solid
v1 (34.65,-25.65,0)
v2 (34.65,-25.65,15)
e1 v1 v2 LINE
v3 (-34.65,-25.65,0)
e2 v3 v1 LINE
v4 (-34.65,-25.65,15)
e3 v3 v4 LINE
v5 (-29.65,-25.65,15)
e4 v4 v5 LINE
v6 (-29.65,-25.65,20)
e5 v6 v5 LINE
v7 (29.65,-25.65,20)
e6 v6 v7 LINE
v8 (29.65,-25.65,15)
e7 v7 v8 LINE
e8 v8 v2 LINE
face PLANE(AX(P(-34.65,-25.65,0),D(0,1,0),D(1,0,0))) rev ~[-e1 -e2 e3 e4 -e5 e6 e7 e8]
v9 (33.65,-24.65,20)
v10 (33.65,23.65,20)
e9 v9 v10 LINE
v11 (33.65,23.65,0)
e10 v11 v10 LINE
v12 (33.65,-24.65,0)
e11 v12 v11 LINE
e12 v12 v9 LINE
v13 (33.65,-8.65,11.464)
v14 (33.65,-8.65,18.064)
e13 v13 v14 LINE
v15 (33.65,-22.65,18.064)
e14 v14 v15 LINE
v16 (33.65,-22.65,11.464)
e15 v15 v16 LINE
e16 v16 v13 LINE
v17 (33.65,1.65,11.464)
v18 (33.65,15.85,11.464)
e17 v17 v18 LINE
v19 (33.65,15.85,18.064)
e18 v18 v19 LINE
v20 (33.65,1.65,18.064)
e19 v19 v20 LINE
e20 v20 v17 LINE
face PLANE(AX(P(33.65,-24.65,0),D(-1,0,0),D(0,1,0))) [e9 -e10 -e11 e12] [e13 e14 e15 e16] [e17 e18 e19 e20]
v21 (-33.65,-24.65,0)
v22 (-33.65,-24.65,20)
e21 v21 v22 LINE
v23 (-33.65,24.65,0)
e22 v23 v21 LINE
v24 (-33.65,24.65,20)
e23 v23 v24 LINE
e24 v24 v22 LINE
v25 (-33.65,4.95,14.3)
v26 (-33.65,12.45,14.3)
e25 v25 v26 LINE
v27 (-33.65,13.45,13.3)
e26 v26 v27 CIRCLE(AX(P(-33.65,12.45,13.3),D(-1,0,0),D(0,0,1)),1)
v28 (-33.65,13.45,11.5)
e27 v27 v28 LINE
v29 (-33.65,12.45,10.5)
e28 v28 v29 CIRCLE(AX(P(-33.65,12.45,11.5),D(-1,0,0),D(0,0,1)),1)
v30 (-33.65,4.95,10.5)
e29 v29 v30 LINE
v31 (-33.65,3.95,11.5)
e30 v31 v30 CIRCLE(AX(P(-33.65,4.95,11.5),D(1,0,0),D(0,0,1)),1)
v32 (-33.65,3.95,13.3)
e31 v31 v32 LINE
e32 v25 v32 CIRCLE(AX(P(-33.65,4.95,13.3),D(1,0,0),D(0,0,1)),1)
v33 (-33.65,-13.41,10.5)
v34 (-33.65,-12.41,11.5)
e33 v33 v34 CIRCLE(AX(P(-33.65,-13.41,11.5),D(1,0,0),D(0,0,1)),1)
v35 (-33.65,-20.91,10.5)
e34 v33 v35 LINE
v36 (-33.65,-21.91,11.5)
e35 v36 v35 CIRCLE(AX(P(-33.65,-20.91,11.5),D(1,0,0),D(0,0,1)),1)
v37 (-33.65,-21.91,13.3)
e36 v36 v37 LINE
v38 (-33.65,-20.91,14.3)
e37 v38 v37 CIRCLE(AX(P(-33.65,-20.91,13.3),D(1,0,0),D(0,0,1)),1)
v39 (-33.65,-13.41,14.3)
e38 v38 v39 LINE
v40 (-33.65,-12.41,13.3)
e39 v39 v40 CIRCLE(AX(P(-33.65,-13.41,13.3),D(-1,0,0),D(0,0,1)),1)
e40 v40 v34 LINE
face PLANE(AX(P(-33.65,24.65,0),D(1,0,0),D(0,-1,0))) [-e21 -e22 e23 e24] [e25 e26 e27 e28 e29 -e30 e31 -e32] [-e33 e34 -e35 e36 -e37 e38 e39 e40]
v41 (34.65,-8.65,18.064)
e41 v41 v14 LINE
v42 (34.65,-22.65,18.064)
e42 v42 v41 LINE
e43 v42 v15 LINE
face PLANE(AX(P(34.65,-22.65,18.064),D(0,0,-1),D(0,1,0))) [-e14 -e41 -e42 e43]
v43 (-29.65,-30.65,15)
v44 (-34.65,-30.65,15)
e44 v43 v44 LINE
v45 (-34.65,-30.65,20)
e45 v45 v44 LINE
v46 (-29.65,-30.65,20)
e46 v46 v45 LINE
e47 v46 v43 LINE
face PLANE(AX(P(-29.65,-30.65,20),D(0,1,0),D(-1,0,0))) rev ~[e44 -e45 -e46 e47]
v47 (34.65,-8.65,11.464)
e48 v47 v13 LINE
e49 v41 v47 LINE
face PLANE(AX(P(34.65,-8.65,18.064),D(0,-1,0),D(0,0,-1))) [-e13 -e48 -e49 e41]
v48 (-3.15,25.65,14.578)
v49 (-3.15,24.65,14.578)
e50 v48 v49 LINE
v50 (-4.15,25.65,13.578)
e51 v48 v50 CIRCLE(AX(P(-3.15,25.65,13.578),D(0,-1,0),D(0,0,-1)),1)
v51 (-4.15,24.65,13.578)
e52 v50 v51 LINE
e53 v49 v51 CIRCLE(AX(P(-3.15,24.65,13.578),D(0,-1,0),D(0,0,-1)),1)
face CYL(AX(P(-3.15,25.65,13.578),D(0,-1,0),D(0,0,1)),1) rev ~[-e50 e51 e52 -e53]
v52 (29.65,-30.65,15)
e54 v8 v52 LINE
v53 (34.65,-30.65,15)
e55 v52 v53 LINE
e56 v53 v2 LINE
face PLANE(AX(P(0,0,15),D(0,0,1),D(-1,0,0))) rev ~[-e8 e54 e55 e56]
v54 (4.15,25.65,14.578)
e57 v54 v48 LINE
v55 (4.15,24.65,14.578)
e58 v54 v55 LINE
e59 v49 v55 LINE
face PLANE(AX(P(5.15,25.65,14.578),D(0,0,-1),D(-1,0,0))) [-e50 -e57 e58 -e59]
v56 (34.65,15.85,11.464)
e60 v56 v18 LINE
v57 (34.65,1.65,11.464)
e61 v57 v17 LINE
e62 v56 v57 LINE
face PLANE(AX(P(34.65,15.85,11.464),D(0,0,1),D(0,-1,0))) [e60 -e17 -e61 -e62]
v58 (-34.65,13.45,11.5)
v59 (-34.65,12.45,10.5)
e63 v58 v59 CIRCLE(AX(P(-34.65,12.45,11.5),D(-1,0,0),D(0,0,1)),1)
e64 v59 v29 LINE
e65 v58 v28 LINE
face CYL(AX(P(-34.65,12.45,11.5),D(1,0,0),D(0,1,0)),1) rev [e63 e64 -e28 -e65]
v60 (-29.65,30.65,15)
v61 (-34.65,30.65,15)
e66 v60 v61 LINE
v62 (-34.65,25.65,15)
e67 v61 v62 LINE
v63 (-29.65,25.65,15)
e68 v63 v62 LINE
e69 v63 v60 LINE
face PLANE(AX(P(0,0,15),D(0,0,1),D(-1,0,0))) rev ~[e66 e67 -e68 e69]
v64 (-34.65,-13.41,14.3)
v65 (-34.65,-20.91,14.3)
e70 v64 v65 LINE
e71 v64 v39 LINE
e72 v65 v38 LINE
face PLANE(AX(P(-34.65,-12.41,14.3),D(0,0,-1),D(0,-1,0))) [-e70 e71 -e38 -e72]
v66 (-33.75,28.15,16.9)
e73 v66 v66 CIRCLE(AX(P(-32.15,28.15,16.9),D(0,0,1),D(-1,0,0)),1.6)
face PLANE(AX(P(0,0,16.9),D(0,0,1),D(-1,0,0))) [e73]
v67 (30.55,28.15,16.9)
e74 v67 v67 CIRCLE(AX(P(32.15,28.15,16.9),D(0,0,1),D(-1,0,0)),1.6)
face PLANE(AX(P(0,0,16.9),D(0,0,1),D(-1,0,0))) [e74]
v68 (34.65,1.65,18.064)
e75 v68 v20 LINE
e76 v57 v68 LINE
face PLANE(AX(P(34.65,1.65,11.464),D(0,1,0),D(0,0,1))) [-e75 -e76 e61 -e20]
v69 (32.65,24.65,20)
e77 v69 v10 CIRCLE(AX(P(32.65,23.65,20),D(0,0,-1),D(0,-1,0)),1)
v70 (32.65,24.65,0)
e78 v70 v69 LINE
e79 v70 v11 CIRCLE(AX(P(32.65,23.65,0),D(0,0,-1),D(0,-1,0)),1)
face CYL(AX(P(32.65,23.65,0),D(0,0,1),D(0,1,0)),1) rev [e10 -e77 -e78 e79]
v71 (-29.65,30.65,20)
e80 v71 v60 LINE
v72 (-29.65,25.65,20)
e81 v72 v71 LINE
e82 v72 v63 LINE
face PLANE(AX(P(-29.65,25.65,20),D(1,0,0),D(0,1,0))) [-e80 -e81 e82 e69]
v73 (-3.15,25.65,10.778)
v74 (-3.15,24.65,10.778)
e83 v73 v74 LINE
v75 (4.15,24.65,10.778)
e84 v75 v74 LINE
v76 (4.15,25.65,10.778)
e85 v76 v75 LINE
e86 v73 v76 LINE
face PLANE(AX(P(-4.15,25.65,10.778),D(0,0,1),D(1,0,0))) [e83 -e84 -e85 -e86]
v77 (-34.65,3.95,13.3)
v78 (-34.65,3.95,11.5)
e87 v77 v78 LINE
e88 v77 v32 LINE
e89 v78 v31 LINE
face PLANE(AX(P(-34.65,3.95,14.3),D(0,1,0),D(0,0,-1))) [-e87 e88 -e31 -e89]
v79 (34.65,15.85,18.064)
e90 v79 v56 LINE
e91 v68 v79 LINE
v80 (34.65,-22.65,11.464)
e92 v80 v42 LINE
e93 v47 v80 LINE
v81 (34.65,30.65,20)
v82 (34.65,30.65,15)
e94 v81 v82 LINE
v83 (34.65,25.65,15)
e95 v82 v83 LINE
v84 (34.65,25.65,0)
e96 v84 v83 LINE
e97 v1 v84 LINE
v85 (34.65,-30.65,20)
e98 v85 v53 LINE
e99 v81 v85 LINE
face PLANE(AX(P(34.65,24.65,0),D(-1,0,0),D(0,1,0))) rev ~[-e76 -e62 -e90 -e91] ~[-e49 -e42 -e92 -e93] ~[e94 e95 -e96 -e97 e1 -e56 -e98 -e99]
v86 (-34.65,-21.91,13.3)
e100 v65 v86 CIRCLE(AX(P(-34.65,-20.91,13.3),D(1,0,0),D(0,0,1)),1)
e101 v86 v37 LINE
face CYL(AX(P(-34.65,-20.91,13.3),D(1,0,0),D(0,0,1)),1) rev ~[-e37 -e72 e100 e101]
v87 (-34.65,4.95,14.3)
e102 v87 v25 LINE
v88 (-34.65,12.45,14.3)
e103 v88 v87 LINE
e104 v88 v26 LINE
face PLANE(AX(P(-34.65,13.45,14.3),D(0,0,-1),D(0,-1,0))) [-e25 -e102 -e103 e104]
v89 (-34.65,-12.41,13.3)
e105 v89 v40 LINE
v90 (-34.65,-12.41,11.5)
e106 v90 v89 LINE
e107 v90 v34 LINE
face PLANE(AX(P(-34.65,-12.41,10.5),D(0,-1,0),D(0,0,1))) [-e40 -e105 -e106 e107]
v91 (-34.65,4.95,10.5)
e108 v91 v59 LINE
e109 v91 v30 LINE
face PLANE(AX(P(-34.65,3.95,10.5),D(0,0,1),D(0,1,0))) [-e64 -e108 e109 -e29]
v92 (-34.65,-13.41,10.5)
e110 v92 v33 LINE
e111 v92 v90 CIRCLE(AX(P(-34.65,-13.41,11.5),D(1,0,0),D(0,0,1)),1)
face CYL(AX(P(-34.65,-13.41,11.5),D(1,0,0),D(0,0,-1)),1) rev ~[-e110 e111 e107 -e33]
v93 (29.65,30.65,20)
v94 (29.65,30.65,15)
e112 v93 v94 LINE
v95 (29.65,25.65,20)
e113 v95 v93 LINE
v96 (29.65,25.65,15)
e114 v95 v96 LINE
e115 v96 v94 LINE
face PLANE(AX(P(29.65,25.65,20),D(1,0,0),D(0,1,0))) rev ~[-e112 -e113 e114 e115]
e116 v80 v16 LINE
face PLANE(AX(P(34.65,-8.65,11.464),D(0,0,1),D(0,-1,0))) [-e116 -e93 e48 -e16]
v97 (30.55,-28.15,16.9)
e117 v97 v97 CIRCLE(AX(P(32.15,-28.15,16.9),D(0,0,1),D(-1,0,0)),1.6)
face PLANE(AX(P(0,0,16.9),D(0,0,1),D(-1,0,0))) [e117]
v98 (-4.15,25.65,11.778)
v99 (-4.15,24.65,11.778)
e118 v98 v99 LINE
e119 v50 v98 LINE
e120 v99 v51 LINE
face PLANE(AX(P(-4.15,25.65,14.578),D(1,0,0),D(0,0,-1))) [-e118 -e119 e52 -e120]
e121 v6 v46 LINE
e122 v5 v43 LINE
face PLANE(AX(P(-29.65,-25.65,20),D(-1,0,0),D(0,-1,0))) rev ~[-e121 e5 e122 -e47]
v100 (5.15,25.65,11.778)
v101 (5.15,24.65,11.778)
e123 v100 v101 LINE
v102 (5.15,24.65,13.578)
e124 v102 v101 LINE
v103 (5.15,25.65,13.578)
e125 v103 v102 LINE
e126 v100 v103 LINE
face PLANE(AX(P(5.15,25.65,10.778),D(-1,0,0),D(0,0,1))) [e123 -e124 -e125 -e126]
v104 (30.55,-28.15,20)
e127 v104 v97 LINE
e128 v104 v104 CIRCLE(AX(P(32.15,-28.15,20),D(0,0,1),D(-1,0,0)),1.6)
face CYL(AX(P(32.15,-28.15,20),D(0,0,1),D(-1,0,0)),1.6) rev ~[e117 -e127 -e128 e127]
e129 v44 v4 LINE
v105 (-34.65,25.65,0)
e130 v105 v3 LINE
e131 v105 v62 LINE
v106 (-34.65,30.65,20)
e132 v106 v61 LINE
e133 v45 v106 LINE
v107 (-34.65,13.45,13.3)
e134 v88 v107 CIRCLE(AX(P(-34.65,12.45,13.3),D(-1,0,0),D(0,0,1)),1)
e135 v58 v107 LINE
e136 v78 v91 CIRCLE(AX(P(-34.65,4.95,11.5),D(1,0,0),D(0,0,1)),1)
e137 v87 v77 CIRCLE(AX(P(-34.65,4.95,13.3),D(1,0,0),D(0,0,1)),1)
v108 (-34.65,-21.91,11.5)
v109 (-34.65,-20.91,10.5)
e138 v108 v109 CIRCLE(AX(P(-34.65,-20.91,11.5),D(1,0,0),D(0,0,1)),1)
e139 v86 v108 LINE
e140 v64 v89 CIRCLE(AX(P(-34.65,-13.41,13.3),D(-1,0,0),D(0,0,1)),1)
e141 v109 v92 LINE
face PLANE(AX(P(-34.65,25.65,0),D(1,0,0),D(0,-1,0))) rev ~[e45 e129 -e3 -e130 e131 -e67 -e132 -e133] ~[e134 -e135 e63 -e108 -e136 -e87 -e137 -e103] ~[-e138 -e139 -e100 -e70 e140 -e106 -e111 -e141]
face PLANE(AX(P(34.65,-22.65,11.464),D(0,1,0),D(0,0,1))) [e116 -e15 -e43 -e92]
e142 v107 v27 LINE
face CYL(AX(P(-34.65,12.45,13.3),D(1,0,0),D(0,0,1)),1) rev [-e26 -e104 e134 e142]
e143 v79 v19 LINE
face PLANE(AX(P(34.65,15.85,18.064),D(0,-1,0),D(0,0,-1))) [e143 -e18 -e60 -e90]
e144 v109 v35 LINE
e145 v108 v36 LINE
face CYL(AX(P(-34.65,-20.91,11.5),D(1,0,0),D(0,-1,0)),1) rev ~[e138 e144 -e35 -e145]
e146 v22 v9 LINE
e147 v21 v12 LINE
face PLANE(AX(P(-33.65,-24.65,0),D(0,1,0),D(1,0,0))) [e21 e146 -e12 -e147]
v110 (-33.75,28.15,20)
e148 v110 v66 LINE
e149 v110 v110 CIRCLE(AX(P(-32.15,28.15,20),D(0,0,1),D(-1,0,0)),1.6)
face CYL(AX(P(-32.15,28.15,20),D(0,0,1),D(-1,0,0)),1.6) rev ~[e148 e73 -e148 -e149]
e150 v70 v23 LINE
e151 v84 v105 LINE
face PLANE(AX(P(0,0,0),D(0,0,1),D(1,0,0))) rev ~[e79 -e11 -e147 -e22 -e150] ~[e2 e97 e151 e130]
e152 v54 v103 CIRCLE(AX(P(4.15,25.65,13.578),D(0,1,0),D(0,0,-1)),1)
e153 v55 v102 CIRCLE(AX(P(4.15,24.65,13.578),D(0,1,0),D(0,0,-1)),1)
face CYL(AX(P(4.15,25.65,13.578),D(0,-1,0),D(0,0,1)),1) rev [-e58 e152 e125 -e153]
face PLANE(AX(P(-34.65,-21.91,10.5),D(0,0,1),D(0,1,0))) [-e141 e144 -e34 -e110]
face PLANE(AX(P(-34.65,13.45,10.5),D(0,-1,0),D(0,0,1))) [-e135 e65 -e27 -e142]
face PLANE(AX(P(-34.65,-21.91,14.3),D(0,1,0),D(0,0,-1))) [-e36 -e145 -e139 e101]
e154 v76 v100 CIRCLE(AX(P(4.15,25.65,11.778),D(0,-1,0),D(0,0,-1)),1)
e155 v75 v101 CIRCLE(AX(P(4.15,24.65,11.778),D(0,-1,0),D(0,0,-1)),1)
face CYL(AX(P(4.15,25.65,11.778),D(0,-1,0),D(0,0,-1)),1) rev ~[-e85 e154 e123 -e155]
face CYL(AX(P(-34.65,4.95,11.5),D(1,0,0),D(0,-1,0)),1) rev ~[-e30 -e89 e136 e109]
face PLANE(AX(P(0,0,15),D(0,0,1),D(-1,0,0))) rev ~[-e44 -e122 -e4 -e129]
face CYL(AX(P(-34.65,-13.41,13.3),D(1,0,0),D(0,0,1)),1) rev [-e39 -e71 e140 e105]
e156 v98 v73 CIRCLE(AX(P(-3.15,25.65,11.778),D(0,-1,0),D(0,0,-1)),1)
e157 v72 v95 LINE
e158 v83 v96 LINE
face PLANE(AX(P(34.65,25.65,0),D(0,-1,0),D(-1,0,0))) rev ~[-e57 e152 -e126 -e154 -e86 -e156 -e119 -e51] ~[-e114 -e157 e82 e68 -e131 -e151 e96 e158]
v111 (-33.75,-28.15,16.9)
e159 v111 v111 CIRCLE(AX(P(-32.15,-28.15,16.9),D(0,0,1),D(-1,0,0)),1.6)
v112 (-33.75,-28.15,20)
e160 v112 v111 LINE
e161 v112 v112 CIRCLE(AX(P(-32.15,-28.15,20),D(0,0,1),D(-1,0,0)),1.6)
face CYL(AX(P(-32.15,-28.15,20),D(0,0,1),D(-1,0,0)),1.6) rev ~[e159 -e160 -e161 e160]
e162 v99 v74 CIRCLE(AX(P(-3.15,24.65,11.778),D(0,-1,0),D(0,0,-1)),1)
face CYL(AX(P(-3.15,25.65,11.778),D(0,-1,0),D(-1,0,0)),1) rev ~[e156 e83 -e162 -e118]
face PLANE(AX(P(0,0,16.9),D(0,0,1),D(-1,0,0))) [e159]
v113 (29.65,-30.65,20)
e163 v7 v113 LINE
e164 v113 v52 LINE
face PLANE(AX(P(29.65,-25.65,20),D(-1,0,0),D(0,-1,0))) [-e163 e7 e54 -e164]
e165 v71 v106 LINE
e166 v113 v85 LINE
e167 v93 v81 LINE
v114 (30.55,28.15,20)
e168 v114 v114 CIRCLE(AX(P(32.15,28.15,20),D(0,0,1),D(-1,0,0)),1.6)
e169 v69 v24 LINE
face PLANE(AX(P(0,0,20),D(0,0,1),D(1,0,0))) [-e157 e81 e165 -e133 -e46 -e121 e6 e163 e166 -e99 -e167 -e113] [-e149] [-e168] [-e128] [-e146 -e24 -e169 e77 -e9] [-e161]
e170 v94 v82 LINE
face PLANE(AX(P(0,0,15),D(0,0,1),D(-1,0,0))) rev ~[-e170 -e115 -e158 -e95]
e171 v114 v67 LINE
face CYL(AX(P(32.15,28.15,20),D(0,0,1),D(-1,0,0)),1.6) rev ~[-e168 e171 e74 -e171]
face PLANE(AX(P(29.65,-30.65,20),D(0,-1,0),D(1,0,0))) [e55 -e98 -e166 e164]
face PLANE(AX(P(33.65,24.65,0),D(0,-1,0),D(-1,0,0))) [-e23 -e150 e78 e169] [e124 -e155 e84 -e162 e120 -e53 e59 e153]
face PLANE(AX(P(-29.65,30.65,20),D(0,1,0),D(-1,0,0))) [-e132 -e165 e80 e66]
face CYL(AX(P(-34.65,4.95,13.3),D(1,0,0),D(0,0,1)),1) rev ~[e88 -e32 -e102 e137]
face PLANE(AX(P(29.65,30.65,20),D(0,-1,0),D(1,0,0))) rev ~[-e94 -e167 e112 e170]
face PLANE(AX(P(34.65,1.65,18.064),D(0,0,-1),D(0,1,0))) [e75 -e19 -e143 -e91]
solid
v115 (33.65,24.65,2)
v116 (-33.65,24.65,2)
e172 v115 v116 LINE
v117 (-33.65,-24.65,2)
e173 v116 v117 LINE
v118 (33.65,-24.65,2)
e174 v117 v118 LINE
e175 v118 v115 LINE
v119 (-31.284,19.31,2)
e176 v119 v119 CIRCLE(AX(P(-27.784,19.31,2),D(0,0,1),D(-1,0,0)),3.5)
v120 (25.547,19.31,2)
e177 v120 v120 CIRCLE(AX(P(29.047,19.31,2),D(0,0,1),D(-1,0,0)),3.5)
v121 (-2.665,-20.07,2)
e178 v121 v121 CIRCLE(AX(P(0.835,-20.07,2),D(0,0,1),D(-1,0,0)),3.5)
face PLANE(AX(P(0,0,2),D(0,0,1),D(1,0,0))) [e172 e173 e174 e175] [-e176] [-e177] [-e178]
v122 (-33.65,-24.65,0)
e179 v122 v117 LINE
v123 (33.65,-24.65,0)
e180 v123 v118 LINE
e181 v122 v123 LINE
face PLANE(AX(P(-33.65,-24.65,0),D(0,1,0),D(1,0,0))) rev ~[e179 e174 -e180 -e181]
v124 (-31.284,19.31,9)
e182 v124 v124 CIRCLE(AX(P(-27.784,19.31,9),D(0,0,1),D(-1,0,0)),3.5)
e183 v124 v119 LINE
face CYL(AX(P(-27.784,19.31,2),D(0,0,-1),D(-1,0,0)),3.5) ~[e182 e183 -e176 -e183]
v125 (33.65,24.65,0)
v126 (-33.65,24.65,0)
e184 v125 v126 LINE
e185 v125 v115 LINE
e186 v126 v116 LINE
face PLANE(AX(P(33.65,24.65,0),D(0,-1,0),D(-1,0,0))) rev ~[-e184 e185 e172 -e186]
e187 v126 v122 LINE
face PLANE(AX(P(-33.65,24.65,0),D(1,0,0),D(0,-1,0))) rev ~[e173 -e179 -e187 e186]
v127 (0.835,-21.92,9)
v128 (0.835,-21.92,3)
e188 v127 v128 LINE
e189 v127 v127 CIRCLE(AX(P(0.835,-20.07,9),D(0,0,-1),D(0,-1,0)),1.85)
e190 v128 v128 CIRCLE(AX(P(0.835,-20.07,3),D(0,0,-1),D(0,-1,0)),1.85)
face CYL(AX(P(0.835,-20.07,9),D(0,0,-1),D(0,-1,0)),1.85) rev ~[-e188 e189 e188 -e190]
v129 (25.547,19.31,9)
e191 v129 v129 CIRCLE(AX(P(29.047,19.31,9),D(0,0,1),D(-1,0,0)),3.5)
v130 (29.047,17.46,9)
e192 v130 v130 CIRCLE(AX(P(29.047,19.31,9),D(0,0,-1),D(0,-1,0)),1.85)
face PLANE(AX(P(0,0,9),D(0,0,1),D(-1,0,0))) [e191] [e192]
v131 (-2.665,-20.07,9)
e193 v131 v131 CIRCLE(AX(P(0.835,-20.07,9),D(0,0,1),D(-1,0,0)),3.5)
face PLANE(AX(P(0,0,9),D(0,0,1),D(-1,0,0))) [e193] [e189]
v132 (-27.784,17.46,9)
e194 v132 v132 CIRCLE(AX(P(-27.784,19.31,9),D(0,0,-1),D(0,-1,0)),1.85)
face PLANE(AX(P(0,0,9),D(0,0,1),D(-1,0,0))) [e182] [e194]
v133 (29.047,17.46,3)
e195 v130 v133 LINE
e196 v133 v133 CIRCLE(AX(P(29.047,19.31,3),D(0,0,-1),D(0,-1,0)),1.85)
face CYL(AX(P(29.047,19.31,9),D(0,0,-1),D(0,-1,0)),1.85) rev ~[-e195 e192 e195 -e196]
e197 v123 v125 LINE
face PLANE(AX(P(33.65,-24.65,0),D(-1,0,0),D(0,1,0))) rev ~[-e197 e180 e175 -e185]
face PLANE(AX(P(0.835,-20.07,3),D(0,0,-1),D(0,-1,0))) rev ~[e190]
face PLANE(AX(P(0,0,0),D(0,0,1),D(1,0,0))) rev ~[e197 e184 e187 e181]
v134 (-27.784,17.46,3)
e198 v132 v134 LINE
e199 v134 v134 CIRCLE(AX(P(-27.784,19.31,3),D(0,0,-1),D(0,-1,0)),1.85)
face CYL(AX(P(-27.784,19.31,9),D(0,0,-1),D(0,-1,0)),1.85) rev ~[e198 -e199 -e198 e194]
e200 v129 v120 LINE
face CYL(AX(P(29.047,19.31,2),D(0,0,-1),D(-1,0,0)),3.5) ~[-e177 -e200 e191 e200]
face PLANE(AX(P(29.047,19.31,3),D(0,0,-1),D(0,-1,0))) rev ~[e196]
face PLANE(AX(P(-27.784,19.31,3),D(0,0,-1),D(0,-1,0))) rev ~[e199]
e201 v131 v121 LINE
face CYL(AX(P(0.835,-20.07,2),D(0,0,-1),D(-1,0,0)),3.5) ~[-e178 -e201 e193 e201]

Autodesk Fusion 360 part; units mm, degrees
sketch "Sketch1" plane through (0, 0, 0) normal (0, 0, 1) x (1, 0, 0)
  line L0 (33.65, 24.65) -> (-33.65, 24.65)
  line L1 (-33.65, 24.65) -> (-33.65, -24.65)
  line L2 (-33.65, -24.65) -> (33.65, -24.65)
  line L3 (33.65, -24.65) -> (33.65, 24.65)
  line L4 (33.65, 24.65) -> (-33.65, -24.65) construction
  line L5 (-33.65, 24.65) -> (33.65, -24.65) construction
  line L6 (34.65, 25.65) -> (-34.65, 25.65)
  line L7 (-34.65, 25.65) -> (-34.65, -25.65)
  line L8 (-34.65, -25.65) -> (34.65, -25.65)
  line L9 (34.65, -25.65) -> (34.65, 25.65)
  line L10 (34.65, 25.65) -> (-34.65, -25.65) construction
  line L11 (-34.65, 25.65) -> (34.65, -25.65) construction
  line L12 (33.65, 24.65) -> (38.3726, 24.65)
  line L13 (38.3726, 24.65) -> (38.3726, 29.0356)
  line L14 (38.3726, 29.0356) -> (34.2811, 29.0356)
  line L15 (34.2811, 29.0356) -> (33.65, 24.65)
  line L16 (38.3726, 24.65) -> (34.2811, 29.0356) construction
  dimension "d1" = 67.3
  dimension "d2" = 49.3
  dimension "d3" = 69.3
  dimension "d4" = 51.3
extrude "Extrude1" add sketch "Sketch1" along normal blind 2 contours L0 L1 L2 L3 makes body 1
extrude "Extrude2" add sketch "Sketch1" along normal blind 20 separate body contours L6 L9 L12 L15 | L6 L7 L8 L9 L12 L15 makes body 2
sketch "Sketch2" plane through (0, 0, 2) normal (0, 0, 1) x (-1, 0, 0)
  line L0 (-33.65, 24.65) -> (-33.65, -24.65)
  line L1 (-33.65, -24.65) -> (33.65, -24.65)
  line L2 (33.65, -24.65) -> (33.65, 24.65)
  line L3 (33.65, 24.65) -> (-33.65, 24.65)
  circle A0 centre (27.784, -19.31) radius 3.5
  circle A1 centre (-29.047, -19.31) radius 3.5
  line L4 (33.65, -24.65) -> (33.65, 24.65) construction
  line L5 (-33.65, -24.65) -> (33.65, -24.65) construction
  circle A2 centre (-0.835, 20.07) radius 3.5
  dimension "d9" = 7
  dimension "d10" = 7
  dimension "d11" = 5.866
  dimension "d12" = 5.34
  dimension "d14" = 5.34
  dimension "d15" = 7
  dimension "d16" = 34.485
  dimension "d20" = 4.603
  dimension "d21" = 4.58
extrude "Extrude4" add sketch "Sketch2" along normal blind 7 contours A0 | A1 | A2 bodies 1
extrude "Extrude3" add sketch "Sketch2" along normal blind 3 contours A0 | A1 | A2 bodies 1
hole "Hole1" at (-27.784, 19.31, 9) direction (0, 0, -1) diameter 3.7 depth 6 tip angle 180 bodies 1
hole "Hole2" at (29.047, 19.31, 9) direction (0, 0, -1) diameter 3.7 depth 6 tip angle 180 bodies 1
hole "Hole3" at (0.835, -20.07, 9) direction (0, 0, -1) diameter 3.7 depth 6 tip angle 180 bodies 1
sketch "Sketch3" plane through (34.65, 0, 0) normal (1, 0, 0) x (0, 1, 0)
  line L0 (25.65, 0) -> (25.65, 20)
  line L1 (25.65, 20) -> (-25.65, 20)
  line L2 (-25.65, 20) -> (-25.65, 0)
  line L3 (-22.65, 18.064) -> (-8.65, 18.064)
  line L4 (-8.65, 18.064) -> (-8.65, 11.464)
  line L5 (-8.65, 11.464) -> (-22.65, 11.464)
  line L6 (-22.65, 11.464) -> (-22.65, 18.064)
  line L7 (1.65, 18.064) -> (15.85, 18.064)
  line L8 (15.85, 18.064) -> (15.85, 11.464)
  line L9 (15.85, 11.464) -> (1.65, 11.464)
  line L10 (1.65, 11.464) -> (1.65, 18.064)
  dimension "d33" = 14
  dimension "d34" = 6.6
  dimension "d35" = 14.2
  dimension "d36" = 6.6
  dimension "d37" = 3
  dimension "d38" = 9.8
  dimension "d39" = 1.936
  dimension "d40" = 1.936
extrude "Extrude5" cut sketch "Sketch3" against normal blind 2 bodies 2
sketch "Sketch4" plane through (0, 25.65, 0) normal (0, 1, 0) x (-1, 0, 0)
  line L0 (-34.65, 0) -> (34.65, 0)
  line L1 (34.65, 0) -> (34.65, 20)
  line L2 (34.65, 20) -> (-34.65, 20)
  line L3 (-34.65, 20) -> (-34.65, 0)
  line L4 (-5.15, 14.578) -> (4.15, 14.578)
  line L5 (4.15, 14.578) -> (4.15, 10.778)
  line L6 (4.15, 10.778) -> (-5.15, 10.778)
  line L7 (-5.15, 10.778) -> (-5.15, 14.578)
  dimension "d43" = 9.3
  dimension "d44" = 3.8
  dimension "d45" = 29.5
  dimension "d46" = 5.422
extrude "Extrude6" cut sketch "Sketch4" against normal blind 2 contours L4 L5 L6 L7 bodies 2
fillet "Fillet1" radius 1 4 edges at (-4.15, 25.15, 10.778) (-4.15, 25.15, 14.578) (5.15, 25.15, 14.578) (5.15, 25.15, 10.778) on bodies 2
sketch "Sketch5" plane through (-34.65, 0, 0) normal (-1, 0, 0) x (0, -1, 0)
  line L0 (-25.65, 0) -> (25.65, 0)
  line L1 (25.65, 0) -> (25.65, 20)
  line L2 (25.65, 20) -> (-25.65, 20)
  line L3 (-25.65, 20) -> (-25.65, 0)
  line L4 (-13.45, 14.3) -> (-3.95, 14.3)
  line L5 (-3.95, 14.3) -> (-3.95, 10.5)
  line L6 (-3.95, 10.5) -> (-13.45, 10.5)
  line L7 (-13.45, 10.5) -> (-13.45, 14.3)
  line L8 (12.41, 14.3) -> (21.91, 14.3)
  line L9 (21.91, 14.3) -> (21.91, 10.5)
  line L10 (21.91, 10.5) -> (12.41, 10.5)
  line L11 (12.41, 10.5) -> (12.41, 14.3)
  dimension "d51" = 9.5
  dimension "d52" = 3.8
  dimension "d53" = 9.5
  dimension "d54" = 3.8
  dimension "d55" = 12.2
  dimension "d56" = 3.74
  dimension "d57" = 5.7
  dimension "d58" = 5.7
extrude "Extrude7" cut sketch "Sketch5" against normal blind 2 contours L4 L5 L6 L7 bodies 2
extrude "Extrude8" cut sketch "Sketch5" against normal blind 2 contours L8 L9 L10 L11 bodies 2
fillet "Fillet2" radius 1 8 edges at (-34.15, 13.45, 14.3) (-34.15, 3.95, 14.3) (-34.15, 3.95, 10.5) (-34.15, 13.45, 10.5) (-34.15, -12.41, 10.5) (-34.15, -12.41, 14.3) (-34.15, -21.91, 14.3) (-34.15, -21.91, 10.5) on bodies 2
sketch "Sketch6" plane through (0, 25.65, 0) normal (0, 1, 0) x (-1, 0, 0)
  line L0 (4.15, 13.578) -> (4.15, 11.778)
  arc A0 (3.15, 10.778) -> (4.15, 11.778) centre (3.15, 11.778) ccw
  line L1 (3.15, 10.778) -> (-4.15, 10.778)
  arc A1 (-5.15, 11.778) -> (-4.15, 10.778) centre (-4.15, 11.778) ccw
  line L2 (-5.15, 11.778) -> (-5.15, 13.578)
  arc A2 (-4.15, 14.578) -> (-5.15, 13.578) centre (-4.15, 13.578) ccw
  line L3 (-4.15, 14.578) -> (3.15, 14.578)
  arc A3 (4.15, 13.578) -> (3.15, 14.578) centre (3.15, 13.578) ccw
  line L4 (-34.65, 0) -> (34.65, 0)
  line L5 (34.65, 0) -> (34.65, 20)
  line L6 (34.65, 20) -> (-34.65, 20)
  line L7 (-34.65, 20) -> (-34.65, 0)
fillet "Fillet3" radius 1 1 edges at (33.65, 24.65, 10) on bodies 2
sketch "Sketch11" plane through (0, 0, 20) normal (0, 0, 1) x (-1, 0, 0)
  line L0 (-33.65, -23.65) -> (-33.65, 24.65)
  line L1 (-33.65, 24.65) -> (33.65, 24.65)
  line L2 (33.65, 24.65) -> (33.65, -24.65)
  line L3 (33.65, -24.65) -> (-32.65, -24.65)
  arc A0 (-33.65, -23.65) -> (-32.65, -24.65) centre (-32.65, -23.65) ccw
  line L4 (-34.65, 25.65) -> (-34.65, -25.65)
  line L5 (-34.65, -25.65) -> (34.65, -25.65)
  line L6 (34.65, -25.65) -> (34.65, 25.65)
  line L7 (34.65, 25.65) -> (-34.65, 25.65)
  line L8 (34.65, -25.65) -> (29.65, -25.65)
  line L9 (29.65, -25.65) -> (29.65, -30.65)
  line L10 (29.65, -30.65) -> (34.65, -30.65)
  line L11 (34.65, -30.65) -> (34.65, -25.65)
  line L12 (-34.65, -25.65) -> (-29.65, -25.65)
  line L13 (-29.65, -25.65) -> (-29.65, -30.65)
  line L14 (-29.65, -30.65) -> (-34.65, -30.65)
  line L15 (-34.65, -30.65) -> (-34.65, -25.65)
  line L16 (-34.65, 25.65) -> (-29.65, 25.65)
  line L17 (-29.65, 25.65) -> (-29.65, 30.65)
  line L18 (-29.65, 30.65) -> (-34.65, 30.65)
  line L19 (-34.65, 30.65) -> (-34.65, 25.65)
  line L20 (34.65, 25.65) -> (29.65, 25.65)
  line L21 (29.65, 25.65) -> (29.65, 30.65)
  line L22 (29.65, 30.65) -> (34.65, 30.65)
  line L23 (34.65, 30.65) -> (34.65, 25.65)
  dimension "d110" = 5
  dimension "d111" = 5
  dimension "d112" = 5
  dimension "d113" = 5
  dimension "d114" = 5
  dimension "d115" = 5
  dimension "d116" = 5
  dimension "d117" = 5
extrude "Extrude12" add sketch "Sketch11" against normal blind 5 contours L7 L16 L17 L18 L19 | L5 L12 L13 L14 L15 | L7 L20 L21 L22 L23 | L5 L8 L9 L10 L11 bodies 2
sketch "Sketch12" plane through (0, 0, 20) normal (0, 0, 1) x (-1, 0, 0)
  line L0 (-33.65, -23.65) -> (-33.65, 24.65)
  line L1 (-33.65, 24.65) -> (33.65, 24.65)
  line L2 (33.65, 24.65) -> (33.65, -24.65)
  line L3 (33.65, -24.65) -> (-32.65, -24.65)
  arc A0 (-33.65, -23.65) -> (-32.65, -24.65) centre (-32.65, -23.65) ccw
  line L4 (-34.65, 30.65) -> (-34.65, -30.65)
  line L5 (-34.65, -30.65) -> (-29.65, -30.65)
  line L6 (-29.65, -30.65) -> (-29.65, -25.65)
  line L7 (-29.65, -25.65) -> (29.65, -25.65)
  line L8 (29.65, -25.65) -> (29.65, -30.65)
  line L9 (29.65, -30.65) -> (34.65, -30.65)
  line L10 (34.65, -30.65) -> (34.65, 30.65)
  line L11 (34.65, 30.65) -> (29.65, 30.65)
  line L12 (29.65, 30.65) -> (29.65, 25.65)
  line L13 (29.65, 25.65) -> (-29.65, 25.65)
  line L14 (-29.65, 25.65) -> (-29.65, 30.65)
  line L15 (-29.65, 30.65) -> (-34.65, 30.65)
  circle A1 centre (32.15, 28.15) radius 1.6
  circle A2 centre (32.15, -28.15) radius 1.6
  circle A3 centre (-32.15, -28.15) radius 1.6
  circle A4 centre (-32.15, 28.15) radius 1.6
  dimension "d120" = 3.2
  dimension "d121" = 3.2
  dimension "d122" = 3.2
  dimension "d123" = 3.2
  dimension "d124" = 2.5
  dimension "d125" = 2.5
  dimension "d126" = 2.5
  dimension "d127" = 2.5
  dimension "d128" = 2.5
  dimension "d129" = 2.5
  dimension "d130" = 2.5
  dimension "d131" = 2.5
extrude "Extrude13" cut sketch "Sketch12" against normal blind 3.1 contours A1 | A2 | A3 | A4 bodies 2
